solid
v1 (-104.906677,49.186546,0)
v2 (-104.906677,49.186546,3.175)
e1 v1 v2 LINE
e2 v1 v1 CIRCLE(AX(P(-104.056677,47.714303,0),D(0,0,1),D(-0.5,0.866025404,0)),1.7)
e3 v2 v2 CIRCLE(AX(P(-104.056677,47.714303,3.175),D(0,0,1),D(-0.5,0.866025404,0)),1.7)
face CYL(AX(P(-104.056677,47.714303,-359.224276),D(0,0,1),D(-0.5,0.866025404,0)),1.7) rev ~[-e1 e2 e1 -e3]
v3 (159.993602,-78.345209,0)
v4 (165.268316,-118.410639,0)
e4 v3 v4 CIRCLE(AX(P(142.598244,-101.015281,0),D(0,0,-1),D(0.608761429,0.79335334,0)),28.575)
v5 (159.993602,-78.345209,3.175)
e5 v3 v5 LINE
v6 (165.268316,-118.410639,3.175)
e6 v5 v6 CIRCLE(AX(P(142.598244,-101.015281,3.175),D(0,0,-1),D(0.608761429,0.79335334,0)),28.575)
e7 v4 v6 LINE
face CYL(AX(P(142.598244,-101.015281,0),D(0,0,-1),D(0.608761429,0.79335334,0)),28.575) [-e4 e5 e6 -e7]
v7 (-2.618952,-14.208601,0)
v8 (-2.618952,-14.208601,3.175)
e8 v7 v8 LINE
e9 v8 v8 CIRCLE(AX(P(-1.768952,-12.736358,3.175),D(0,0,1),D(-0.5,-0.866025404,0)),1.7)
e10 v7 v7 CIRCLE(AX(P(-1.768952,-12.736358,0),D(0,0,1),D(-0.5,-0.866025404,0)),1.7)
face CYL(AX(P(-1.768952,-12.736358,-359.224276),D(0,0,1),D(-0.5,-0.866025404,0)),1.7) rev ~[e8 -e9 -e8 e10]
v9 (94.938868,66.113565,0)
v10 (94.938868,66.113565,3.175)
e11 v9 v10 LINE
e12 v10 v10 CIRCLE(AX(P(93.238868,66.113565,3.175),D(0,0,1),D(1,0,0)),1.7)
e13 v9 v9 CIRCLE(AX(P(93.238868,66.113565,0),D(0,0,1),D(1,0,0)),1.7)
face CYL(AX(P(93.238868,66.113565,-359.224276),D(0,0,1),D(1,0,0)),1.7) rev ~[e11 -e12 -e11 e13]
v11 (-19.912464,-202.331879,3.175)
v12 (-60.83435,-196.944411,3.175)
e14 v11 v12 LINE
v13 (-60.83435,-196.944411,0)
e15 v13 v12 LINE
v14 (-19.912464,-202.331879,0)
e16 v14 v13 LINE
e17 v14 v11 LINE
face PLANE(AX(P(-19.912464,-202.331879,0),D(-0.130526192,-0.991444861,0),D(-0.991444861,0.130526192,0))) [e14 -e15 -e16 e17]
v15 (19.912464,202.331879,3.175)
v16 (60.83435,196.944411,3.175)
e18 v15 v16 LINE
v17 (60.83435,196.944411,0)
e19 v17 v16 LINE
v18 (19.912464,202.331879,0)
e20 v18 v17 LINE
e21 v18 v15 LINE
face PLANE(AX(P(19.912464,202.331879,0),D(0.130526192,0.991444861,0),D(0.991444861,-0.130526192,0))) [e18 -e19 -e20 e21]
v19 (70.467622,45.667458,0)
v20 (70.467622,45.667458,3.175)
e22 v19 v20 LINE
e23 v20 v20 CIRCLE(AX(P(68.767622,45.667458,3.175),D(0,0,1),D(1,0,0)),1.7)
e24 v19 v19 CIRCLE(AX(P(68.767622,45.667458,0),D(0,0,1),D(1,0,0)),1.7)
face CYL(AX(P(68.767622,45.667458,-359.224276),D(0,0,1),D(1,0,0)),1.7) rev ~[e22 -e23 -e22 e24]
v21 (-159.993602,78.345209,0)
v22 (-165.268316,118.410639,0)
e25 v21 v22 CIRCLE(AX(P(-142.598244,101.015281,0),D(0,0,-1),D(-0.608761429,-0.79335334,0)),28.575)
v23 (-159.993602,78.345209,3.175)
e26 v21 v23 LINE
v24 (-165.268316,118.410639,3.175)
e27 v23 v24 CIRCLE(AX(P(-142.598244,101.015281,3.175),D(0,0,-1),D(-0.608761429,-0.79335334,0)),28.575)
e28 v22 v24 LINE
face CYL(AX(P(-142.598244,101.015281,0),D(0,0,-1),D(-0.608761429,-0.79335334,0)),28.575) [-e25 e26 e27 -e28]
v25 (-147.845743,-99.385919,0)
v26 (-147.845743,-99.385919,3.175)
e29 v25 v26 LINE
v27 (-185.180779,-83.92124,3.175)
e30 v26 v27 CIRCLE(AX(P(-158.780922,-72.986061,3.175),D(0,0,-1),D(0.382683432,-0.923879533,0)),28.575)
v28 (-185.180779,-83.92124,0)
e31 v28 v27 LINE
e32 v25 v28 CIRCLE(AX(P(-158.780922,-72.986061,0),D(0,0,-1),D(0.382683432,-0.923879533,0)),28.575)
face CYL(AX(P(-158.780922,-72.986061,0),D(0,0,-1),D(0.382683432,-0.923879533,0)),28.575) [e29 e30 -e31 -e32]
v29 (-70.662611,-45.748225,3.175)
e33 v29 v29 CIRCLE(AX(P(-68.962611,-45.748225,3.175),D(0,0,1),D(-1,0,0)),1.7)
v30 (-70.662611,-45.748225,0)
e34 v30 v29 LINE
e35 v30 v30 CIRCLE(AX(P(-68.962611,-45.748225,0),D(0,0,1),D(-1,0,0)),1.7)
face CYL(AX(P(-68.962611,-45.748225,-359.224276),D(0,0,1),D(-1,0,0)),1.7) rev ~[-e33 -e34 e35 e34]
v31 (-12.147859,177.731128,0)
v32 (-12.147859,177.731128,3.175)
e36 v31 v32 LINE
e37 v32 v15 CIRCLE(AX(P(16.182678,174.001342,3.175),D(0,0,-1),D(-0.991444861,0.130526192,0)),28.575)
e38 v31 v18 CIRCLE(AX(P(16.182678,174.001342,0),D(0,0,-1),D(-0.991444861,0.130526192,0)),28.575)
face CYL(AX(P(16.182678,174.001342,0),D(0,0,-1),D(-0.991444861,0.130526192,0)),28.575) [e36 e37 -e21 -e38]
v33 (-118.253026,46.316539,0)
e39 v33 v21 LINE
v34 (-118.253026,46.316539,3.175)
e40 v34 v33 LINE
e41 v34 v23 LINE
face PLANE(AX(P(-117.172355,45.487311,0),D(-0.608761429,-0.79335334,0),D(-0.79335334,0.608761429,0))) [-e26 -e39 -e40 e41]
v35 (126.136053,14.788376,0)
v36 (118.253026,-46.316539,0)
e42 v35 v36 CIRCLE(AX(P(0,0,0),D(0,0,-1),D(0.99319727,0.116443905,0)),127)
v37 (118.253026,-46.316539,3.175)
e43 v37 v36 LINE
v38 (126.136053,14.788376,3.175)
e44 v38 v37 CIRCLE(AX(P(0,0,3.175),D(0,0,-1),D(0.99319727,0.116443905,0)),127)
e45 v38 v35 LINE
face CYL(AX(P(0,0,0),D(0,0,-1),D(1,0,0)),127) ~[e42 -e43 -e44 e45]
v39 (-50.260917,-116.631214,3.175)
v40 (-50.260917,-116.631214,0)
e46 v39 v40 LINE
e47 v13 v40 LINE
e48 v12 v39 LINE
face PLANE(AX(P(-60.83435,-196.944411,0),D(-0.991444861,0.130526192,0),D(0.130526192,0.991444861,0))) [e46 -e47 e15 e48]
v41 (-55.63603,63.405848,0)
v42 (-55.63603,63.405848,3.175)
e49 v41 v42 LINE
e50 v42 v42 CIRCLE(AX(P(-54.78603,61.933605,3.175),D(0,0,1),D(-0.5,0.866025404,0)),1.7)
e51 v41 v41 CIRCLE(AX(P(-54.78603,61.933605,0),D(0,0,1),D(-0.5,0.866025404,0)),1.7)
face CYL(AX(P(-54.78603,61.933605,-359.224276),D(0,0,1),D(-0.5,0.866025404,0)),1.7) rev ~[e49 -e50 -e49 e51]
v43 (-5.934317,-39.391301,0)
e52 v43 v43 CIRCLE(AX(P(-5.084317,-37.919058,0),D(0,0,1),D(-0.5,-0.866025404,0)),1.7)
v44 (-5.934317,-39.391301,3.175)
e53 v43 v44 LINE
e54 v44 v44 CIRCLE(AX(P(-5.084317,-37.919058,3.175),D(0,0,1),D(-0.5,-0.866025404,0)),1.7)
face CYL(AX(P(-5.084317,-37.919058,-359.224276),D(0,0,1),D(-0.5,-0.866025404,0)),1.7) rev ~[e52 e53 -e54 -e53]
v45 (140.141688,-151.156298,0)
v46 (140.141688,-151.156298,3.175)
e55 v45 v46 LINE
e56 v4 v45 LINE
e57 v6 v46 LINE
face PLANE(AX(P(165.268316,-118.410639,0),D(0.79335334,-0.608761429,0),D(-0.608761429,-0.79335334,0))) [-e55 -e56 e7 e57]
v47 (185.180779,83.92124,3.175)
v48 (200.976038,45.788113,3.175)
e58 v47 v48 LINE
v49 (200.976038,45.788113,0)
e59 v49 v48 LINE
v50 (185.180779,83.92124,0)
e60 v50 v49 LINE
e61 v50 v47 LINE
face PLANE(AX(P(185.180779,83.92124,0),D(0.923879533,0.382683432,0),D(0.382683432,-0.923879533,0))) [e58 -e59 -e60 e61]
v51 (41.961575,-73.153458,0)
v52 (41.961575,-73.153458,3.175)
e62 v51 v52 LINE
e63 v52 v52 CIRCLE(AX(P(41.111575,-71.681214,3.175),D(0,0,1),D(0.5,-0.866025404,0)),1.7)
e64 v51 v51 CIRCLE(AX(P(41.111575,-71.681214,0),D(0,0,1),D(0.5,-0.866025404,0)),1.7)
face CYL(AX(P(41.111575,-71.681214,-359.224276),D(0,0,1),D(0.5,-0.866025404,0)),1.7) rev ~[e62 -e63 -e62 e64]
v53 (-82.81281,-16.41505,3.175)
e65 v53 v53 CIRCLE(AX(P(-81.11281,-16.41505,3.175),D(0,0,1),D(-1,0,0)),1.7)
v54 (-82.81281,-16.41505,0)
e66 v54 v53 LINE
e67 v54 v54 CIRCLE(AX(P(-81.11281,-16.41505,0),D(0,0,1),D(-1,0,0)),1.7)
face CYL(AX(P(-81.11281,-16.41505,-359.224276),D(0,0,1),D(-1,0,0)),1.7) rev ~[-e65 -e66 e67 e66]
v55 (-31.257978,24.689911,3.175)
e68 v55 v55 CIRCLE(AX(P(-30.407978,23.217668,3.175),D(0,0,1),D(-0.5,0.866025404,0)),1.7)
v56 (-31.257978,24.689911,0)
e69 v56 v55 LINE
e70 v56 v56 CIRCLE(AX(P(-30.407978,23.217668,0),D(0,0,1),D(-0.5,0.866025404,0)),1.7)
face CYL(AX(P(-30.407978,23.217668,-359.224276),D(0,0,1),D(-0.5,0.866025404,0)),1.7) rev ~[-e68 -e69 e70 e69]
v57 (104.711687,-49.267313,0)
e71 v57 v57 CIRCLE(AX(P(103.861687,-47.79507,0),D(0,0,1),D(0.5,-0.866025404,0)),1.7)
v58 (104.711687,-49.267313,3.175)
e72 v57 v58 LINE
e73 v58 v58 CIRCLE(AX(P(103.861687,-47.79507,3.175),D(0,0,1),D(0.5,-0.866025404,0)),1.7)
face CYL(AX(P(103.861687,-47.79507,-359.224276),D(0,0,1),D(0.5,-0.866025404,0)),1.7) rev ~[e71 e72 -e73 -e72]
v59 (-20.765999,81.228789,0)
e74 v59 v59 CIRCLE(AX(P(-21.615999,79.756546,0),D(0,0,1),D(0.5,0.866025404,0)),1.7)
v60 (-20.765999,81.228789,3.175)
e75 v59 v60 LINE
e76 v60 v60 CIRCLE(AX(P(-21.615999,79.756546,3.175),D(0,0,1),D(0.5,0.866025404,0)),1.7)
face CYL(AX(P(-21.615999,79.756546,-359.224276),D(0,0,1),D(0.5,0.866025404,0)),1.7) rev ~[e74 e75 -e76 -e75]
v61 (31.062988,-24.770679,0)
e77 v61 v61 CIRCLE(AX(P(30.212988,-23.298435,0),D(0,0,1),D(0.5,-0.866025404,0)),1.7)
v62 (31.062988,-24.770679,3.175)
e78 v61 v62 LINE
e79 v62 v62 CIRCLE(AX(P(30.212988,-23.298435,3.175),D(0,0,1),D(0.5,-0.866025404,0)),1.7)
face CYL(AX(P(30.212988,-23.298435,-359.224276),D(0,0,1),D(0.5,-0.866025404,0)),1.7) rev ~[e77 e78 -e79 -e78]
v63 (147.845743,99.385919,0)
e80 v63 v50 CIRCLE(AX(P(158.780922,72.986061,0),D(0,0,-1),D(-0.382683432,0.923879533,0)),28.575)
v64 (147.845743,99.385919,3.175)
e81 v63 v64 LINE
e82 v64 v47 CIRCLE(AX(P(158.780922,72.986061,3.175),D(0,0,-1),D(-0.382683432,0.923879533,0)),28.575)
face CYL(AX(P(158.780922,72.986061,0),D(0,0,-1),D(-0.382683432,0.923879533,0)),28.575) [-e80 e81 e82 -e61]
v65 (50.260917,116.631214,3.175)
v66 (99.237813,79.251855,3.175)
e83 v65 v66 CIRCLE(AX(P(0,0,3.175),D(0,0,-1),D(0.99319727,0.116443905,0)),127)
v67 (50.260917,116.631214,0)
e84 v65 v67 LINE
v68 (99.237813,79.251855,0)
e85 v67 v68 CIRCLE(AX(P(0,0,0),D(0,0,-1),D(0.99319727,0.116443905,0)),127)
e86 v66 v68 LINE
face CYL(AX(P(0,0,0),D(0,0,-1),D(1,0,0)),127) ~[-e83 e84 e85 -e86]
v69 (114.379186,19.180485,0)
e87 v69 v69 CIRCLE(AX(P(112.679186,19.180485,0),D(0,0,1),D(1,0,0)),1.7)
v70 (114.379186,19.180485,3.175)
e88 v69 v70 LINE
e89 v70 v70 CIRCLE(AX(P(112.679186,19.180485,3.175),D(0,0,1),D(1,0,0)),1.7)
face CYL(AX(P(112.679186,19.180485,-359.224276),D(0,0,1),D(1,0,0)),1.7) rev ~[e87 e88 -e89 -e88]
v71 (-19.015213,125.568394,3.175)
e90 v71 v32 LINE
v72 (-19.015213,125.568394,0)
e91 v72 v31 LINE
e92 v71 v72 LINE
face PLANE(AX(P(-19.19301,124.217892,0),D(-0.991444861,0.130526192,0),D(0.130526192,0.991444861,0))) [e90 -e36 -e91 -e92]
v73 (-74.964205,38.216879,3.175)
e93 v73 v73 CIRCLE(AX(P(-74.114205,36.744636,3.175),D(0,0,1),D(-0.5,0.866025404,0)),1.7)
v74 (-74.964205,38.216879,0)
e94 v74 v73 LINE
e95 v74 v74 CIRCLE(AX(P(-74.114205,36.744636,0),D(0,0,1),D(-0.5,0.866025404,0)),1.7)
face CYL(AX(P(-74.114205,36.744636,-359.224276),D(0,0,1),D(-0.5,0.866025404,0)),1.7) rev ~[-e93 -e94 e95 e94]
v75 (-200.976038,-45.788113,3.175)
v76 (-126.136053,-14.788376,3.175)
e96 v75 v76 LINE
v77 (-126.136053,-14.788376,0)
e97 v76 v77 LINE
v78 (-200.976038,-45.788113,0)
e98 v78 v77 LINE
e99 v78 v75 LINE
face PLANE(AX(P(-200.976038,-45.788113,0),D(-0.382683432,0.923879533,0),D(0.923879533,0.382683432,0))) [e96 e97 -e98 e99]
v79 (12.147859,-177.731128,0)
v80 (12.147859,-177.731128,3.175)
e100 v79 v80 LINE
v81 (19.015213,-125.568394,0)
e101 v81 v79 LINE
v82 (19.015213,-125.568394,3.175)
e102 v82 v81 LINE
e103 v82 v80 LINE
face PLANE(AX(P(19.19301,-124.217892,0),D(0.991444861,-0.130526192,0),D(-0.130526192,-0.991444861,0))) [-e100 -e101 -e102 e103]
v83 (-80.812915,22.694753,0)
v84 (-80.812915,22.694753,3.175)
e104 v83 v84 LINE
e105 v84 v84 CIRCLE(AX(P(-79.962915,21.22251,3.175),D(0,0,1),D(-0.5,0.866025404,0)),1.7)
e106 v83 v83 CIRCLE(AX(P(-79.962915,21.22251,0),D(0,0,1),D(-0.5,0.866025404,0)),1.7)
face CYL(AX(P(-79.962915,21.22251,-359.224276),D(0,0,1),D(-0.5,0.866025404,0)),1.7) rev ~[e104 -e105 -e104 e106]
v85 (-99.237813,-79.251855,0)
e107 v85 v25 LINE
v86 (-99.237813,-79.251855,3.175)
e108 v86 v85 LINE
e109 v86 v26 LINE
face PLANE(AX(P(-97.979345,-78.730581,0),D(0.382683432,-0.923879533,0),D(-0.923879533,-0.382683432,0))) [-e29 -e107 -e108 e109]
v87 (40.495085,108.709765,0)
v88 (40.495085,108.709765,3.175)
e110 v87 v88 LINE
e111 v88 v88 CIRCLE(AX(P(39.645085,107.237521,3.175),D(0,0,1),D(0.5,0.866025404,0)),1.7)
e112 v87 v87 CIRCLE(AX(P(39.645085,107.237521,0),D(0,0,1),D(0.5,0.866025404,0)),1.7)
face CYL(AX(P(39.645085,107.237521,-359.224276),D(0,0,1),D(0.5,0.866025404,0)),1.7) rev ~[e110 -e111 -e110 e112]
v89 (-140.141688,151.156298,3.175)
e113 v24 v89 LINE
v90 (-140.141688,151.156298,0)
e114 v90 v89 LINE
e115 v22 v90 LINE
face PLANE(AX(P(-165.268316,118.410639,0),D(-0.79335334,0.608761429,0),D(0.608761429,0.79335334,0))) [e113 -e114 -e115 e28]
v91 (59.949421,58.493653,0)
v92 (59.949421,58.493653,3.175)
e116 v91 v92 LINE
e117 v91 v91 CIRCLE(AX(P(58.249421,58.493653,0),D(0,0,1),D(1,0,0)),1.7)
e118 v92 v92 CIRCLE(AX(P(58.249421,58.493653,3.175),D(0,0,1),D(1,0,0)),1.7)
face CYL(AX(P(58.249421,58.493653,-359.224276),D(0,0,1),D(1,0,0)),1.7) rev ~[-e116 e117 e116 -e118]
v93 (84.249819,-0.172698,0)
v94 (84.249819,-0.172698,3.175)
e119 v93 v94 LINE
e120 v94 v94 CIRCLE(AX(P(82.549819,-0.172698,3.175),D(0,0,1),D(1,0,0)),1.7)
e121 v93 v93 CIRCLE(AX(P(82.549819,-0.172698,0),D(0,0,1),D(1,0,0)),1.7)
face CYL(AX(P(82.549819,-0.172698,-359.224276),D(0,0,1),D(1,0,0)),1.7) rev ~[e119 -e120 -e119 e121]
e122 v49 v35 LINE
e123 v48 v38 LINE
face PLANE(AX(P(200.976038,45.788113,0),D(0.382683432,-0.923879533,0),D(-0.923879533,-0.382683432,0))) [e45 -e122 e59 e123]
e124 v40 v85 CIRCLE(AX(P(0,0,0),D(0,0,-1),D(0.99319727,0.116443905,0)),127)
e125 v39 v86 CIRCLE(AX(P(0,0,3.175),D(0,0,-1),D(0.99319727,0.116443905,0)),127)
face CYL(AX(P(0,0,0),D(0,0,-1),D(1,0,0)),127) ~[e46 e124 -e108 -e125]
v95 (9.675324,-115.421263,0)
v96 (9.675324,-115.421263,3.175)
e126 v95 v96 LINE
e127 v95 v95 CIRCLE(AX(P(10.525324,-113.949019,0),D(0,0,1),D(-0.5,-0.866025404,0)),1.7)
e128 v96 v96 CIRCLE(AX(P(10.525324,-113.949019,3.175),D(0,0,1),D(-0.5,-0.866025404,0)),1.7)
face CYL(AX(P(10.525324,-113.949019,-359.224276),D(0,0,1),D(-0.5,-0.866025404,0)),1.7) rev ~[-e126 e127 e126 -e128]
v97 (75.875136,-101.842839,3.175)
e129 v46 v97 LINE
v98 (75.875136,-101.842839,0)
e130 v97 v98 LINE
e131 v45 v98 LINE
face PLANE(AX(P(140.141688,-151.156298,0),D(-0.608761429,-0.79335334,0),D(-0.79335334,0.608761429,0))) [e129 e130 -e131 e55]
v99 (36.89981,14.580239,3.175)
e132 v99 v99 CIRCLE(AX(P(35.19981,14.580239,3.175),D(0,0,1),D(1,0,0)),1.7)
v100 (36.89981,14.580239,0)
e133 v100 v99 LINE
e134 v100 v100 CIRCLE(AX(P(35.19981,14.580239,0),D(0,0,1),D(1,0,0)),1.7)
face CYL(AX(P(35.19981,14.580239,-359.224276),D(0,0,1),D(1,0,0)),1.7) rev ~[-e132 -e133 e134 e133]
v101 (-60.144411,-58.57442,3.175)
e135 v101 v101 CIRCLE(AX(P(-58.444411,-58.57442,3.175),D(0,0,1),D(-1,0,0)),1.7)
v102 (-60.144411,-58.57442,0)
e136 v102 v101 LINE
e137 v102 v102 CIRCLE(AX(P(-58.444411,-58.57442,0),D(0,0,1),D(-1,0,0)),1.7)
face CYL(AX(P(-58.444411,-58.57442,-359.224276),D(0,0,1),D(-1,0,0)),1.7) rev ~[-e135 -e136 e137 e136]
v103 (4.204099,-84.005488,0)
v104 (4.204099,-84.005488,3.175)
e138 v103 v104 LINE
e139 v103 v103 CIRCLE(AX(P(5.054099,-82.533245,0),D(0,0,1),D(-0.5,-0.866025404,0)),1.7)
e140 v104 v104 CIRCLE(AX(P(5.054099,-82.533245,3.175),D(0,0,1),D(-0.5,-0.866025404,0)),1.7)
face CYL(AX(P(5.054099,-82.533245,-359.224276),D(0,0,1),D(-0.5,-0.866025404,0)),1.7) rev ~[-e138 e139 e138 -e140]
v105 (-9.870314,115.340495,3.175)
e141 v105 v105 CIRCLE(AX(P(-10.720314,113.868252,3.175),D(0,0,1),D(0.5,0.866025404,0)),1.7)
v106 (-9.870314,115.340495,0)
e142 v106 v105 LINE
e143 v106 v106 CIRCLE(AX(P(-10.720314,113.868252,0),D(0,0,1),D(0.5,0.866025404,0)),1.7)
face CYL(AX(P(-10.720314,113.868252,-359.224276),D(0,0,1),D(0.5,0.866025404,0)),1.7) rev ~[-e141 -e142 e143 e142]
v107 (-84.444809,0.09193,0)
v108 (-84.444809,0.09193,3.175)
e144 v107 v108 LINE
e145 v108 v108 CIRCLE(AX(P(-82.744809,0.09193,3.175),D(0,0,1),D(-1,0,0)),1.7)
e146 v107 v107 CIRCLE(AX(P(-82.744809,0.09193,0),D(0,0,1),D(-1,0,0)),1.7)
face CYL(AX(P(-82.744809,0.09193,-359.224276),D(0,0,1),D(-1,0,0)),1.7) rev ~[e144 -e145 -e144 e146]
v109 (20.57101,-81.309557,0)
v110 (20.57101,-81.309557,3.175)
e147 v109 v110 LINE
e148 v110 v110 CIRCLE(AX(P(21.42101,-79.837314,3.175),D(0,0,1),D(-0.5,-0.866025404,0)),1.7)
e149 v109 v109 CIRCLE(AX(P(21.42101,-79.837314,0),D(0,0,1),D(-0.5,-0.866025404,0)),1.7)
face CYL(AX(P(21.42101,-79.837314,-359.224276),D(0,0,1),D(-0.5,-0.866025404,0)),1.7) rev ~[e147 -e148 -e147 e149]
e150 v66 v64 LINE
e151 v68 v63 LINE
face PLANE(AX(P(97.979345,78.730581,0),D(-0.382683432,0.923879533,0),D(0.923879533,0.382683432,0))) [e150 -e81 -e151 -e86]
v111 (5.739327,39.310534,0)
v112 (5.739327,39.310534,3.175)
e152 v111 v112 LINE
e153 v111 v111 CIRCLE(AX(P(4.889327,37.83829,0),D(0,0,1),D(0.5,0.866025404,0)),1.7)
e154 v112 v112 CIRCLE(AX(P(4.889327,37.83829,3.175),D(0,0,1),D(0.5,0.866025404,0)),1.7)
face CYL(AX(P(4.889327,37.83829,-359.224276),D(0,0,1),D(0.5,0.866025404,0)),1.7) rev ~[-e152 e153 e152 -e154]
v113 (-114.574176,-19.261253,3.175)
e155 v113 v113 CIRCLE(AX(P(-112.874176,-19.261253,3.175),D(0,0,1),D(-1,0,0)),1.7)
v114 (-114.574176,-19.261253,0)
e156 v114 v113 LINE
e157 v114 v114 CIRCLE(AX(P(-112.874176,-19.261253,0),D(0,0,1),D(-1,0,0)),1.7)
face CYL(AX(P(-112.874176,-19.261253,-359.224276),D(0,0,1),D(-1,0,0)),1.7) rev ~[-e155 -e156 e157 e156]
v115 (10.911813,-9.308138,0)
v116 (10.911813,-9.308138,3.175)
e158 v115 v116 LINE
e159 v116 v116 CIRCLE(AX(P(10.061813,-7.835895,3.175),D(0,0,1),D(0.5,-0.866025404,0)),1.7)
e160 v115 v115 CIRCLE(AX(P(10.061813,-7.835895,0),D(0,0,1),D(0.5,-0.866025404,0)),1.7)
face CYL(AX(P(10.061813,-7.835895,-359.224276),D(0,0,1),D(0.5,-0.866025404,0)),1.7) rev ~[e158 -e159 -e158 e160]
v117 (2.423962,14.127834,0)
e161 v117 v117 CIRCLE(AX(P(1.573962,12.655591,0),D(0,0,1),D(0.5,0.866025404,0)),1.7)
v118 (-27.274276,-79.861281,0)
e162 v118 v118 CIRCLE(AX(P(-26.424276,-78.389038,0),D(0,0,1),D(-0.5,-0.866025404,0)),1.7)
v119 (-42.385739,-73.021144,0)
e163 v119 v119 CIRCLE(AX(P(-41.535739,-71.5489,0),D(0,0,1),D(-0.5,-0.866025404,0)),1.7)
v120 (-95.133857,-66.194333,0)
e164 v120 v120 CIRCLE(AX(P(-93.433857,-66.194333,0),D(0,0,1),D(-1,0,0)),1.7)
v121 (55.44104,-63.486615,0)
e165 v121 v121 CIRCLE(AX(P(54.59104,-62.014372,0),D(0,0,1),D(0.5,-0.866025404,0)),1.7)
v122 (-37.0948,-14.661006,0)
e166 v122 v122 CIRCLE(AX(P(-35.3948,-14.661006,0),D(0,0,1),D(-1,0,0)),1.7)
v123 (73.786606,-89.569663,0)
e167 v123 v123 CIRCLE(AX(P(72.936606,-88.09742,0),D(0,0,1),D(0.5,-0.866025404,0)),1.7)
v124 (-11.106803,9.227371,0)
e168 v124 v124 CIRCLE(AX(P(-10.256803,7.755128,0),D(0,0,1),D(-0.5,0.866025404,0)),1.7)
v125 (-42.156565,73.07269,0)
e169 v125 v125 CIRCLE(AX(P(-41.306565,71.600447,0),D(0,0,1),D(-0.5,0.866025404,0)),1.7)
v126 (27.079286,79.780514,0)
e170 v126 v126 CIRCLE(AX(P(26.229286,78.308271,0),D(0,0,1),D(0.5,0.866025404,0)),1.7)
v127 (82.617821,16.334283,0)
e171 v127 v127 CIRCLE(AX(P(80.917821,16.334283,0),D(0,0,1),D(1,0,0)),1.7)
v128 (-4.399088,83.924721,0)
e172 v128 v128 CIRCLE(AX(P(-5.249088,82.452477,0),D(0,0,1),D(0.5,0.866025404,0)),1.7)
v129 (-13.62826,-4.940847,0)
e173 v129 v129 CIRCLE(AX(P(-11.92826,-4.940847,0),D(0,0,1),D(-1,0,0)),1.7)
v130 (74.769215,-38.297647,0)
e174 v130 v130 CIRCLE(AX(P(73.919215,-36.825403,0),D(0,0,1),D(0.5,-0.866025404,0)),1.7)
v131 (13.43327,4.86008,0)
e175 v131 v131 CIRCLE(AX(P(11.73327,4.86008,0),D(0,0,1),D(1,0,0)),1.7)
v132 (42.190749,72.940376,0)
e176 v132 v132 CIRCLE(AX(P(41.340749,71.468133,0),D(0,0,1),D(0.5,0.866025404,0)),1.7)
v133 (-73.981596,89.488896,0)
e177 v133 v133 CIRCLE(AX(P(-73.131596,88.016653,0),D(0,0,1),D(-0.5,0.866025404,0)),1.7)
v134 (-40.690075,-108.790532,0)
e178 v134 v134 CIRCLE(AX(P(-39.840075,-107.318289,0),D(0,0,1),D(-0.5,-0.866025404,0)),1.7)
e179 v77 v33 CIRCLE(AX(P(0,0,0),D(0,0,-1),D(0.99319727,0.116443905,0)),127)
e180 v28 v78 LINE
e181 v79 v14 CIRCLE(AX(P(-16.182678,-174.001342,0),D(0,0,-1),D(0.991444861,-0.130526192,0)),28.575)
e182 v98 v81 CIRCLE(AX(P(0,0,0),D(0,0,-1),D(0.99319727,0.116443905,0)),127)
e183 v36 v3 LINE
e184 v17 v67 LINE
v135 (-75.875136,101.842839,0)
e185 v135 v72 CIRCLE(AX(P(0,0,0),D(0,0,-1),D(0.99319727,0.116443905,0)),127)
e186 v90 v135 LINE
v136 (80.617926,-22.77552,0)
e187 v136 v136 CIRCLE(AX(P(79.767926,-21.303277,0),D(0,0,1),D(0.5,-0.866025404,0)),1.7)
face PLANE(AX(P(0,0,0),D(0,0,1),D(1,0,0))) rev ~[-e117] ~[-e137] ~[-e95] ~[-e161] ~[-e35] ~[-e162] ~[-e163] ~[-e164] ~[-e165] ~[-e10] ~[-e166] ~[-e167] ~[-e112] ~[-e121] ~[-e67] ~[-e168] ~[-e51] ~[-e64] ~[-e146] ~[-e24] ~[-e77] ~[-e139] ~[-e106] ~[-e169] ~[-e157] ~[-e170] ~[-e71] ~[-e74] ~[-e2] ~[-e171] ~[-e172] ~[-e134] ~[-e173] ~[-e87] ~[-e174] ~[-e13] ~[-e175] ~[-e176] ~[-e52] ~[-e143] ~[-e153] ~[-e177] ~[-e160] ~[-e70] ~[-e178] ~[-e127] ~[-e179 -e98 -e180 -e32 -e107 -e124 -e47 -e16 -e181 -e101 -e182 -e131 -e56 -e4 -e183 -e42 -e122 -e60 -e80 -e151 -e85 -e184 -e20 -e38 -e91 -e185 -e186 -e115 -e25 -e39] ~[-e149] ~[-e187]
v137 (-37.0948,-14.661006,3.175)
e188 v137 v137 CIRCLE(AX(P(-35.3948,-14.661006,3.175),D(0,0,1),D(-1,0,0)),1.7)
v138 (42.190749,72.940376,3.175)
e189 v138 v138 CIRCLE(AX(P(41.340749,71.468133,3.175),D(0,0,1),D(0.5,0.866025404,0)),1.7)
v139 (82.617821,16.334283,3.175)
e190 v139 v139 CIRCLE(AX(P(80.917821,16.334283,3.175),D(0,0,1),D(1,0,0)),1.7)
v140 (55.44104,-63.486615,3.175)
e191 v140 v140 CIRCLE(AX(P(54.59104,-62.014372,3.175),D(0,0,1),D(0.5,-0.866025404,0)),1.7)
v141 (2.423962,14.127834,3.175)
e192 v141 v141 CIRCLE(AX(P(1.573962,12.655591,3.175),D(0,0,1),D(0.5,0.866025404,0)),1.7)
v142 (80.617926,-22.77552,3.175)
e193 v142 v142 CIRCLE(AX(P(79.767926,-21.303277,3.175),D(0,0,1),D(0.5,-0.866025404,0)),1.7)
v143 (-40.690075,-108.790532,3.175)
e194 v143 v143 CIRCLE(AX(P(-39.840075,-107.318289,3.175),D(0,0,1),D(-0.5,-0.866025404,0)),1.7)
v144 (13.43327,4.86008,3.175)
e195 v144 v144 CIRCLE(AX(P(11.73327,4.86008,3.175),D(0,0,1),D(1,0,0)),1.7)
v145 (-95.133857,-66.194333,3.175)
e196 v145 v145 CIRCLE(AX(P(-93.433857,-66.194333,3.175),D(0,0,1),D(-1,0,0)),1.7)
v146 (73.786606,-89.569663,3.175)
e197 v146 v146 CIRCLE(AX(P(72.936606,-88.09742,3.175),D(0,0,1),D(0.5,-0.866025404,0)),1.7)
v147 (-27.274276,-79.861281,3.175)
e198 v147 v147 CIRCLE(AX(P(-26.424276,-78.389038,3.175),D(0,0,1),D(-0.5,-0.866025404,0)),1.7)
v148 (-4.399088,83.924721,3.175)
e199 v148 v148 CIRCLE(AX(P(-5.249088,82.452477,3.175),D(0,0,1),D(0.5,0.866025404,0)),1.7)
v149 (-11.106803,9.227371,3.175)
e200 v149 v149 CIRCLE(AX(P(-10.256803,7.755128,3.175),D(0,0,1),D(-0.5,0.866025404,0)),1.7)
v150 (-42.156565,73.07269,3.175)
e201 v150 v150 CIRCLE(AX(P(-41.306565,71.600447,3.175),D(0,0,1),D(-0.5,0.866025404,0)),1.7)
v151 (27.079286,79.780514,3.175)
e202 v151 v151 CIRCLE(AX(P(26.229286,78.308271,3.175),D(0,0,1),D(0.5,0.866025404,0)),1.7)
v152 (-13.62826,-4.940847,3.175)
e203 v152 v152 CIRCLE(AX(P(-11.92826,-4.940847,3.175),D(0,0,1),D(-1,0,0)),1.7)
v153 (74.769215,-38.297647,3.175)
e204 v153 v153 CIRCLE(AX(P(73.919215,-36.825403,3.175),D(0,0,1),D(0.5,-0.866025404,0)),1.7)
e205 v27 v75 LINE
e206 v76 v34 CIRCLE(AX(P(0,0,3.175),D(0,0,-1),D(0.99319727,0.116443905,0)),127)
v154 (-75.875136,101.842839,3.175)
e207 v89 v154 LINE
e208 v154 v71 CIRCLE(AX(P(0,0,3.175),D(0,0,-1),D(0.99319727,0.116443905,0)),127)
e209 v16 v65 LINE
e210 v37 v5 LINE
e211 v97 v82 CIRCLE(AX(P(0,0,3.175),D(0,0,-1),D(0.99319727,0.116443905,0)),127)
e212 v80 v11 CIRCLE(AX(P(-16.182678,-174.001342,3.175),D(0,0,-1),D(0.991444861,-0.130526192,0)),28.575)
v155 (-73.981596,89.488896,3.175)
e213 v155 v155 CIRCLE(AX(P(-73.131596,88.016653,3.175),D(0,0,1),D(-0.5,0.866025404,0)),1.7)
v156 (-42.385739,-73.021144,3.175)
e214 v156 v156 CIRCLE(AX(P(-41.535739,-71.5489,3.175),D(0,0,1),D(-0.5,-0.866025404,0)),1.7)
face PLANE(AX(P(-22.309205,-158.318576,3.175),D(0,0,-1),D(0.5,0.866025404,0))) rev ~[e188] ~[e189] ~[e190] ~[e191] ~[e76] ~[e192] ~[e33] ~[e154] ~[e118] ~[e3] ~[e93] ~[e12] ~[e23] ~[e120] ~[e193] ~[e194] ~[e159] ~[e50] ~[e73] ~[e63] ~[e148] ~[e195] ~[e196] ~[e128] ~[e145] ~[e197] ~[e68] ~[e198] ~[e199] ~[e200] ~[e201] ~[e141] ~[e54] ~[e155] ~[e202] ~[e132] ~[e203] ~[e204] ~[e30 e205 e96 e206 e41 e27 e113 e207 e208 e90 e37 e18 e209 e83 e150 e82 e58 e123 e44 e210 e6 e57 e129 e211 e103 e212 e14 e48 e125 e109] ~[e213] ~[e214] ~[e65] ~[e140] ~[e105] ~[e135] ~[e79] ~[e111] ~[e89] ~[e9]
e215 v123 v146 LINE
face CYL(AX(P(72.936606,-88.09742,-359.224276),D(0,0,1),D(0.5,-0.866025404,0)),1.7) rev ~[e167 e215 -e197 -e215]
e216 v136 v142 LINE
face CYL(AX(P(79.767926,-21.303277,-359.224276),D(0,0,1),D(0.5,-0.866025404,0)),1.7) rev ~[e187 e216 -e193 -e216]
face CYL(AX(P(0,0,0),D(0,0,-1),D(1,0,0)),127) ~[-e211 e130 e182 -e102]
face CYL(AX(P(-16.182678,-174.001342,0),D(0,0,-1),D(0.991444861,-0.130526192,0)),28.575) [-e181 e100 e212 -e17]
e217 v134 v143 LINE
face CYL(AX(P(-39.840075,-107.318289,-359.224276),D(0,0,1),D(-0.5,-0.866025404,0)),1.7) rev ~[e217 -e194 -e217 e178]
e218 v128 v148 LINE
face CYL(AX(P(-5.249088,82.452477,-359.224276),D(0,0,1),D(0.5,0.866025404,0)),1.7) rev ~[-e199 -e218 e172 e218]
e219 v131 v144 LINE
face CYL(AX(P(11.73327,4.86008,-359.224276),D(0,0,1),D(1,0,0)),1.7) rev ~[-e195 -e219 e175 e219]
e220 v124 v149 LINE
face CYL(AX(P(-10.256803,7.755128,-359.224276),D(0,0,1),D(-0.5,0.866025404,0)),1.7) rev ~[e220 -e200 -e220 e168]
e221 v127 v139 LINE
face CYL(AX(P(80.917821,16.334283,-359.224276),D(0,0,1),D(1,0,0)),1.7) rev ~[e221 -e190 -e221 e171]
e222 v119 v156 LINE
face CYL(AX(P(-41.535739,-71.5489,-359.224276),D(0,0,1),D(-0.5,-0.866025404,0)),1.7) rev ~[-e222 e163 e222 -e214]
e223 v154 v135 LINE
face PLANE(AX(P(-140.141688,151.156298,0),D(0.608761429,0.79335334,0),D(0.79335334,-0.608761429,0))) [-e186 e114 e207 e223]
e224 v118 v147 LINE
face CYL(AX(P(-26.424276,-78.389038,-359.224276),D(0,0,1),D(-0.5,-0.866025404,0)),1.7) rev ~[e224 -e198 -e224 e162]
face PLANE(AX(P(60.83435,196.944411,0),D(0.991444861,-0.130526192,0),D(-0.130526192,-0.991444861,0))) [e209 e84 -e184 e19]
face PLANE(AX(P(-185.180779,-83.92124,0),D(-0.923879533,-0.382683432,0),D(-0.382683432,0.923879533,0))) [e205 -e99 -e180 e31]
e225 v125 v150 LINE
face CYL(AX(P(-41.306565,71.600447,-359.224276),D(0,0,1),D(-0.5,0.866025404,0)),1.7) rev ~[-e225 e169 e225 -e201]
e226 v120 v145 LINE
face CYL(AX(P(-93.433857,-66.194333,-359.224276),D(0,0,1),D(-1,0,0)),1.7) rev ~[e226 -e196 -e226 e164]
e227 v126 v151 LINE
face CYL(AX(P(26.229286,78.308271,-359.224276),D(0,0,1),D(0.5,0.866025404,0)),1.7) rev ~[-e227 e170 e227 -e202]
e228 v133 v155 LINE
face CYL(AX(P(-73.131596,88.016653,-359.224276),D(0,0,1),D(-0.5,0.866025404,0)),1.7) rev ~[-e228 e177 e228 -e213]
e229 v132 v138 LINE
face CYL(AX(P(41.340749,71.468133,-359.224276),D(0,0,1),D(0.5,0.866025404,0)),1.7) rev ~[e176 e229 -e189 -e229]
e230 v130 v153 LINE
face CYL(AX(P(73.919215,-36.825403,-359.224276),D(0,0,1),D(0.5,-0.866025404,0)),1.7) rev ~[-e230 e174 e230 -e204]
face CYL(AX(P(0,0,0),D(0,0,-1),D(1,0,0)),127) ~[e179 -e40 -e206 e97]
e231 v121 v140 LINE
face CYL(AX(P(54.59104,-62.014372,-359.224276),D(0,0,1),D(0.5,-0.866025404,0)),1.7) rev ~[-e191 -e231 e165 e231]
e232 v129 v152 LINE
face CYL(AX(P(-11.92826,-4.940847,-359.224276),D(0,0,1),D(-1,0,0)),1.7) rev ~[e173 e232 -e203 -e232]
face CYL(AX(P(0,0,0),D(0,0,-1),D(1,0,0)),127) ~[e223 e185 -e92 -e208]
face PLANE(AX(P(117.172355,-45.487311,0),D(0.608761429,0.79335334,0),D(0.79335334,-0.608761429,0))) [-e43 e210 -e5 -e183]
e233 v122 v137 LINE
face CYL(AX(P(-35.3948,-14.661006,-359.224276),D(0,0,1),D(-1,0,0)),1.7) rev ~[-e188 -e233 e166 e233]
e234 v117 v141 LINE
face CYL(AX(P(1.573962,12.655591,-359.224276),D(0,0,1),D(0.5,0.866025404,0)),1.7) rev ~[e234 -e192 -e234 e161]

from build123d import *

# Parameters (mm, degrees)
SKETCH1_R            = 127
BOSS_EXTRUDE1_DEPTH  = 3.175
M3_CLEARANCE_HOLE1_D = 3.4
CIRPATTERN1_COUNT    = 6
BOSS_EXTRUDE2_DEPTH  = 3.175
CIRPATTERN2_COUNT    = 6


with BuildPart() as part:
    # Sketch1 → Boss-Extrude1 (new body)
    with BuildSketch(Plane.XY):
        Circle(SKETCH1_R)
    extrude(amount=BOSS_EXTRUDE1_DEPTH)

    # M3 Clearance Hole1 (through all)
    with Locations(Plane(origin=(0, 0, 0), x_dir=(-1, 0, 0), z_dir=(0, 0, -1))):
        with Locations((-58.2494214, 58.493652703), (-82.549819355, -0.172697611), (-93.238867767, 66.113565457), (-112.679186132, 19.180485205), (-11.733270063, 4.860079591), (-68.767621753, 45.667457762), (-80.917820731, 16.334282605), (-35.199810189, 14.580238773)):
            m3_clearance_hole1 = Hole(M3_CLEARANCE_HOLE1_D / 2)

    # CirPattern1: M3 Clearance Hole1 ×6 about axis
    cirpattern1_axis = Axis((-0.09749486, -0.040383693, 0), (0, 0, 1))
    for i in range(1, CIRPATTERN1_COUNT):
        add(m3_clearance_hole1.rotate(cirpattern1_axis, i * 360 / CIRPATTERN1_COUNT), mode=Mode.SUBTRACT)

    # Sketch6 → Boss-Extrude2 (add)
    with BuildSketch(Plane(origin=(0, 0, 0), x_dir=(-1, 0, 0), z_dir=(0, 0, -1))):
        with BuildLine():
            Line((-97.979344732, 78.730580539), (-147.8457425, 99.385918801))
            ThreePointArc((-147.8457425, 99.385918801), (-169.716100659, 99.385918801), (-185.180779221, 83.92124024))
            Line((-185.180779221, 83.92124024), (-200.976037892, 45.788112535))
            Line((-200.976037892, 45.788112535), (-124.709782483, 14.197595193))
            Line((-124.709782483, 14.197595193), (-97.979344732, 78.730580539))
        make_face()
    boss_extrude2 = extrude(amount=-BOSS_EXTRUDE2_DEPTH)

    # CirPattern2: Boss-Extrude2 ×6 about axis
    cirpattern2_axis = Axis((0, 0, 0), (0, 0, 1))
    for i in range(1, CIRPATTERN2_COUNT):
        add(boss_extrude2.rotate(cirpattern2_axis, i * 360 / CIRPATTERN2_COUNT))


solid = part.part
